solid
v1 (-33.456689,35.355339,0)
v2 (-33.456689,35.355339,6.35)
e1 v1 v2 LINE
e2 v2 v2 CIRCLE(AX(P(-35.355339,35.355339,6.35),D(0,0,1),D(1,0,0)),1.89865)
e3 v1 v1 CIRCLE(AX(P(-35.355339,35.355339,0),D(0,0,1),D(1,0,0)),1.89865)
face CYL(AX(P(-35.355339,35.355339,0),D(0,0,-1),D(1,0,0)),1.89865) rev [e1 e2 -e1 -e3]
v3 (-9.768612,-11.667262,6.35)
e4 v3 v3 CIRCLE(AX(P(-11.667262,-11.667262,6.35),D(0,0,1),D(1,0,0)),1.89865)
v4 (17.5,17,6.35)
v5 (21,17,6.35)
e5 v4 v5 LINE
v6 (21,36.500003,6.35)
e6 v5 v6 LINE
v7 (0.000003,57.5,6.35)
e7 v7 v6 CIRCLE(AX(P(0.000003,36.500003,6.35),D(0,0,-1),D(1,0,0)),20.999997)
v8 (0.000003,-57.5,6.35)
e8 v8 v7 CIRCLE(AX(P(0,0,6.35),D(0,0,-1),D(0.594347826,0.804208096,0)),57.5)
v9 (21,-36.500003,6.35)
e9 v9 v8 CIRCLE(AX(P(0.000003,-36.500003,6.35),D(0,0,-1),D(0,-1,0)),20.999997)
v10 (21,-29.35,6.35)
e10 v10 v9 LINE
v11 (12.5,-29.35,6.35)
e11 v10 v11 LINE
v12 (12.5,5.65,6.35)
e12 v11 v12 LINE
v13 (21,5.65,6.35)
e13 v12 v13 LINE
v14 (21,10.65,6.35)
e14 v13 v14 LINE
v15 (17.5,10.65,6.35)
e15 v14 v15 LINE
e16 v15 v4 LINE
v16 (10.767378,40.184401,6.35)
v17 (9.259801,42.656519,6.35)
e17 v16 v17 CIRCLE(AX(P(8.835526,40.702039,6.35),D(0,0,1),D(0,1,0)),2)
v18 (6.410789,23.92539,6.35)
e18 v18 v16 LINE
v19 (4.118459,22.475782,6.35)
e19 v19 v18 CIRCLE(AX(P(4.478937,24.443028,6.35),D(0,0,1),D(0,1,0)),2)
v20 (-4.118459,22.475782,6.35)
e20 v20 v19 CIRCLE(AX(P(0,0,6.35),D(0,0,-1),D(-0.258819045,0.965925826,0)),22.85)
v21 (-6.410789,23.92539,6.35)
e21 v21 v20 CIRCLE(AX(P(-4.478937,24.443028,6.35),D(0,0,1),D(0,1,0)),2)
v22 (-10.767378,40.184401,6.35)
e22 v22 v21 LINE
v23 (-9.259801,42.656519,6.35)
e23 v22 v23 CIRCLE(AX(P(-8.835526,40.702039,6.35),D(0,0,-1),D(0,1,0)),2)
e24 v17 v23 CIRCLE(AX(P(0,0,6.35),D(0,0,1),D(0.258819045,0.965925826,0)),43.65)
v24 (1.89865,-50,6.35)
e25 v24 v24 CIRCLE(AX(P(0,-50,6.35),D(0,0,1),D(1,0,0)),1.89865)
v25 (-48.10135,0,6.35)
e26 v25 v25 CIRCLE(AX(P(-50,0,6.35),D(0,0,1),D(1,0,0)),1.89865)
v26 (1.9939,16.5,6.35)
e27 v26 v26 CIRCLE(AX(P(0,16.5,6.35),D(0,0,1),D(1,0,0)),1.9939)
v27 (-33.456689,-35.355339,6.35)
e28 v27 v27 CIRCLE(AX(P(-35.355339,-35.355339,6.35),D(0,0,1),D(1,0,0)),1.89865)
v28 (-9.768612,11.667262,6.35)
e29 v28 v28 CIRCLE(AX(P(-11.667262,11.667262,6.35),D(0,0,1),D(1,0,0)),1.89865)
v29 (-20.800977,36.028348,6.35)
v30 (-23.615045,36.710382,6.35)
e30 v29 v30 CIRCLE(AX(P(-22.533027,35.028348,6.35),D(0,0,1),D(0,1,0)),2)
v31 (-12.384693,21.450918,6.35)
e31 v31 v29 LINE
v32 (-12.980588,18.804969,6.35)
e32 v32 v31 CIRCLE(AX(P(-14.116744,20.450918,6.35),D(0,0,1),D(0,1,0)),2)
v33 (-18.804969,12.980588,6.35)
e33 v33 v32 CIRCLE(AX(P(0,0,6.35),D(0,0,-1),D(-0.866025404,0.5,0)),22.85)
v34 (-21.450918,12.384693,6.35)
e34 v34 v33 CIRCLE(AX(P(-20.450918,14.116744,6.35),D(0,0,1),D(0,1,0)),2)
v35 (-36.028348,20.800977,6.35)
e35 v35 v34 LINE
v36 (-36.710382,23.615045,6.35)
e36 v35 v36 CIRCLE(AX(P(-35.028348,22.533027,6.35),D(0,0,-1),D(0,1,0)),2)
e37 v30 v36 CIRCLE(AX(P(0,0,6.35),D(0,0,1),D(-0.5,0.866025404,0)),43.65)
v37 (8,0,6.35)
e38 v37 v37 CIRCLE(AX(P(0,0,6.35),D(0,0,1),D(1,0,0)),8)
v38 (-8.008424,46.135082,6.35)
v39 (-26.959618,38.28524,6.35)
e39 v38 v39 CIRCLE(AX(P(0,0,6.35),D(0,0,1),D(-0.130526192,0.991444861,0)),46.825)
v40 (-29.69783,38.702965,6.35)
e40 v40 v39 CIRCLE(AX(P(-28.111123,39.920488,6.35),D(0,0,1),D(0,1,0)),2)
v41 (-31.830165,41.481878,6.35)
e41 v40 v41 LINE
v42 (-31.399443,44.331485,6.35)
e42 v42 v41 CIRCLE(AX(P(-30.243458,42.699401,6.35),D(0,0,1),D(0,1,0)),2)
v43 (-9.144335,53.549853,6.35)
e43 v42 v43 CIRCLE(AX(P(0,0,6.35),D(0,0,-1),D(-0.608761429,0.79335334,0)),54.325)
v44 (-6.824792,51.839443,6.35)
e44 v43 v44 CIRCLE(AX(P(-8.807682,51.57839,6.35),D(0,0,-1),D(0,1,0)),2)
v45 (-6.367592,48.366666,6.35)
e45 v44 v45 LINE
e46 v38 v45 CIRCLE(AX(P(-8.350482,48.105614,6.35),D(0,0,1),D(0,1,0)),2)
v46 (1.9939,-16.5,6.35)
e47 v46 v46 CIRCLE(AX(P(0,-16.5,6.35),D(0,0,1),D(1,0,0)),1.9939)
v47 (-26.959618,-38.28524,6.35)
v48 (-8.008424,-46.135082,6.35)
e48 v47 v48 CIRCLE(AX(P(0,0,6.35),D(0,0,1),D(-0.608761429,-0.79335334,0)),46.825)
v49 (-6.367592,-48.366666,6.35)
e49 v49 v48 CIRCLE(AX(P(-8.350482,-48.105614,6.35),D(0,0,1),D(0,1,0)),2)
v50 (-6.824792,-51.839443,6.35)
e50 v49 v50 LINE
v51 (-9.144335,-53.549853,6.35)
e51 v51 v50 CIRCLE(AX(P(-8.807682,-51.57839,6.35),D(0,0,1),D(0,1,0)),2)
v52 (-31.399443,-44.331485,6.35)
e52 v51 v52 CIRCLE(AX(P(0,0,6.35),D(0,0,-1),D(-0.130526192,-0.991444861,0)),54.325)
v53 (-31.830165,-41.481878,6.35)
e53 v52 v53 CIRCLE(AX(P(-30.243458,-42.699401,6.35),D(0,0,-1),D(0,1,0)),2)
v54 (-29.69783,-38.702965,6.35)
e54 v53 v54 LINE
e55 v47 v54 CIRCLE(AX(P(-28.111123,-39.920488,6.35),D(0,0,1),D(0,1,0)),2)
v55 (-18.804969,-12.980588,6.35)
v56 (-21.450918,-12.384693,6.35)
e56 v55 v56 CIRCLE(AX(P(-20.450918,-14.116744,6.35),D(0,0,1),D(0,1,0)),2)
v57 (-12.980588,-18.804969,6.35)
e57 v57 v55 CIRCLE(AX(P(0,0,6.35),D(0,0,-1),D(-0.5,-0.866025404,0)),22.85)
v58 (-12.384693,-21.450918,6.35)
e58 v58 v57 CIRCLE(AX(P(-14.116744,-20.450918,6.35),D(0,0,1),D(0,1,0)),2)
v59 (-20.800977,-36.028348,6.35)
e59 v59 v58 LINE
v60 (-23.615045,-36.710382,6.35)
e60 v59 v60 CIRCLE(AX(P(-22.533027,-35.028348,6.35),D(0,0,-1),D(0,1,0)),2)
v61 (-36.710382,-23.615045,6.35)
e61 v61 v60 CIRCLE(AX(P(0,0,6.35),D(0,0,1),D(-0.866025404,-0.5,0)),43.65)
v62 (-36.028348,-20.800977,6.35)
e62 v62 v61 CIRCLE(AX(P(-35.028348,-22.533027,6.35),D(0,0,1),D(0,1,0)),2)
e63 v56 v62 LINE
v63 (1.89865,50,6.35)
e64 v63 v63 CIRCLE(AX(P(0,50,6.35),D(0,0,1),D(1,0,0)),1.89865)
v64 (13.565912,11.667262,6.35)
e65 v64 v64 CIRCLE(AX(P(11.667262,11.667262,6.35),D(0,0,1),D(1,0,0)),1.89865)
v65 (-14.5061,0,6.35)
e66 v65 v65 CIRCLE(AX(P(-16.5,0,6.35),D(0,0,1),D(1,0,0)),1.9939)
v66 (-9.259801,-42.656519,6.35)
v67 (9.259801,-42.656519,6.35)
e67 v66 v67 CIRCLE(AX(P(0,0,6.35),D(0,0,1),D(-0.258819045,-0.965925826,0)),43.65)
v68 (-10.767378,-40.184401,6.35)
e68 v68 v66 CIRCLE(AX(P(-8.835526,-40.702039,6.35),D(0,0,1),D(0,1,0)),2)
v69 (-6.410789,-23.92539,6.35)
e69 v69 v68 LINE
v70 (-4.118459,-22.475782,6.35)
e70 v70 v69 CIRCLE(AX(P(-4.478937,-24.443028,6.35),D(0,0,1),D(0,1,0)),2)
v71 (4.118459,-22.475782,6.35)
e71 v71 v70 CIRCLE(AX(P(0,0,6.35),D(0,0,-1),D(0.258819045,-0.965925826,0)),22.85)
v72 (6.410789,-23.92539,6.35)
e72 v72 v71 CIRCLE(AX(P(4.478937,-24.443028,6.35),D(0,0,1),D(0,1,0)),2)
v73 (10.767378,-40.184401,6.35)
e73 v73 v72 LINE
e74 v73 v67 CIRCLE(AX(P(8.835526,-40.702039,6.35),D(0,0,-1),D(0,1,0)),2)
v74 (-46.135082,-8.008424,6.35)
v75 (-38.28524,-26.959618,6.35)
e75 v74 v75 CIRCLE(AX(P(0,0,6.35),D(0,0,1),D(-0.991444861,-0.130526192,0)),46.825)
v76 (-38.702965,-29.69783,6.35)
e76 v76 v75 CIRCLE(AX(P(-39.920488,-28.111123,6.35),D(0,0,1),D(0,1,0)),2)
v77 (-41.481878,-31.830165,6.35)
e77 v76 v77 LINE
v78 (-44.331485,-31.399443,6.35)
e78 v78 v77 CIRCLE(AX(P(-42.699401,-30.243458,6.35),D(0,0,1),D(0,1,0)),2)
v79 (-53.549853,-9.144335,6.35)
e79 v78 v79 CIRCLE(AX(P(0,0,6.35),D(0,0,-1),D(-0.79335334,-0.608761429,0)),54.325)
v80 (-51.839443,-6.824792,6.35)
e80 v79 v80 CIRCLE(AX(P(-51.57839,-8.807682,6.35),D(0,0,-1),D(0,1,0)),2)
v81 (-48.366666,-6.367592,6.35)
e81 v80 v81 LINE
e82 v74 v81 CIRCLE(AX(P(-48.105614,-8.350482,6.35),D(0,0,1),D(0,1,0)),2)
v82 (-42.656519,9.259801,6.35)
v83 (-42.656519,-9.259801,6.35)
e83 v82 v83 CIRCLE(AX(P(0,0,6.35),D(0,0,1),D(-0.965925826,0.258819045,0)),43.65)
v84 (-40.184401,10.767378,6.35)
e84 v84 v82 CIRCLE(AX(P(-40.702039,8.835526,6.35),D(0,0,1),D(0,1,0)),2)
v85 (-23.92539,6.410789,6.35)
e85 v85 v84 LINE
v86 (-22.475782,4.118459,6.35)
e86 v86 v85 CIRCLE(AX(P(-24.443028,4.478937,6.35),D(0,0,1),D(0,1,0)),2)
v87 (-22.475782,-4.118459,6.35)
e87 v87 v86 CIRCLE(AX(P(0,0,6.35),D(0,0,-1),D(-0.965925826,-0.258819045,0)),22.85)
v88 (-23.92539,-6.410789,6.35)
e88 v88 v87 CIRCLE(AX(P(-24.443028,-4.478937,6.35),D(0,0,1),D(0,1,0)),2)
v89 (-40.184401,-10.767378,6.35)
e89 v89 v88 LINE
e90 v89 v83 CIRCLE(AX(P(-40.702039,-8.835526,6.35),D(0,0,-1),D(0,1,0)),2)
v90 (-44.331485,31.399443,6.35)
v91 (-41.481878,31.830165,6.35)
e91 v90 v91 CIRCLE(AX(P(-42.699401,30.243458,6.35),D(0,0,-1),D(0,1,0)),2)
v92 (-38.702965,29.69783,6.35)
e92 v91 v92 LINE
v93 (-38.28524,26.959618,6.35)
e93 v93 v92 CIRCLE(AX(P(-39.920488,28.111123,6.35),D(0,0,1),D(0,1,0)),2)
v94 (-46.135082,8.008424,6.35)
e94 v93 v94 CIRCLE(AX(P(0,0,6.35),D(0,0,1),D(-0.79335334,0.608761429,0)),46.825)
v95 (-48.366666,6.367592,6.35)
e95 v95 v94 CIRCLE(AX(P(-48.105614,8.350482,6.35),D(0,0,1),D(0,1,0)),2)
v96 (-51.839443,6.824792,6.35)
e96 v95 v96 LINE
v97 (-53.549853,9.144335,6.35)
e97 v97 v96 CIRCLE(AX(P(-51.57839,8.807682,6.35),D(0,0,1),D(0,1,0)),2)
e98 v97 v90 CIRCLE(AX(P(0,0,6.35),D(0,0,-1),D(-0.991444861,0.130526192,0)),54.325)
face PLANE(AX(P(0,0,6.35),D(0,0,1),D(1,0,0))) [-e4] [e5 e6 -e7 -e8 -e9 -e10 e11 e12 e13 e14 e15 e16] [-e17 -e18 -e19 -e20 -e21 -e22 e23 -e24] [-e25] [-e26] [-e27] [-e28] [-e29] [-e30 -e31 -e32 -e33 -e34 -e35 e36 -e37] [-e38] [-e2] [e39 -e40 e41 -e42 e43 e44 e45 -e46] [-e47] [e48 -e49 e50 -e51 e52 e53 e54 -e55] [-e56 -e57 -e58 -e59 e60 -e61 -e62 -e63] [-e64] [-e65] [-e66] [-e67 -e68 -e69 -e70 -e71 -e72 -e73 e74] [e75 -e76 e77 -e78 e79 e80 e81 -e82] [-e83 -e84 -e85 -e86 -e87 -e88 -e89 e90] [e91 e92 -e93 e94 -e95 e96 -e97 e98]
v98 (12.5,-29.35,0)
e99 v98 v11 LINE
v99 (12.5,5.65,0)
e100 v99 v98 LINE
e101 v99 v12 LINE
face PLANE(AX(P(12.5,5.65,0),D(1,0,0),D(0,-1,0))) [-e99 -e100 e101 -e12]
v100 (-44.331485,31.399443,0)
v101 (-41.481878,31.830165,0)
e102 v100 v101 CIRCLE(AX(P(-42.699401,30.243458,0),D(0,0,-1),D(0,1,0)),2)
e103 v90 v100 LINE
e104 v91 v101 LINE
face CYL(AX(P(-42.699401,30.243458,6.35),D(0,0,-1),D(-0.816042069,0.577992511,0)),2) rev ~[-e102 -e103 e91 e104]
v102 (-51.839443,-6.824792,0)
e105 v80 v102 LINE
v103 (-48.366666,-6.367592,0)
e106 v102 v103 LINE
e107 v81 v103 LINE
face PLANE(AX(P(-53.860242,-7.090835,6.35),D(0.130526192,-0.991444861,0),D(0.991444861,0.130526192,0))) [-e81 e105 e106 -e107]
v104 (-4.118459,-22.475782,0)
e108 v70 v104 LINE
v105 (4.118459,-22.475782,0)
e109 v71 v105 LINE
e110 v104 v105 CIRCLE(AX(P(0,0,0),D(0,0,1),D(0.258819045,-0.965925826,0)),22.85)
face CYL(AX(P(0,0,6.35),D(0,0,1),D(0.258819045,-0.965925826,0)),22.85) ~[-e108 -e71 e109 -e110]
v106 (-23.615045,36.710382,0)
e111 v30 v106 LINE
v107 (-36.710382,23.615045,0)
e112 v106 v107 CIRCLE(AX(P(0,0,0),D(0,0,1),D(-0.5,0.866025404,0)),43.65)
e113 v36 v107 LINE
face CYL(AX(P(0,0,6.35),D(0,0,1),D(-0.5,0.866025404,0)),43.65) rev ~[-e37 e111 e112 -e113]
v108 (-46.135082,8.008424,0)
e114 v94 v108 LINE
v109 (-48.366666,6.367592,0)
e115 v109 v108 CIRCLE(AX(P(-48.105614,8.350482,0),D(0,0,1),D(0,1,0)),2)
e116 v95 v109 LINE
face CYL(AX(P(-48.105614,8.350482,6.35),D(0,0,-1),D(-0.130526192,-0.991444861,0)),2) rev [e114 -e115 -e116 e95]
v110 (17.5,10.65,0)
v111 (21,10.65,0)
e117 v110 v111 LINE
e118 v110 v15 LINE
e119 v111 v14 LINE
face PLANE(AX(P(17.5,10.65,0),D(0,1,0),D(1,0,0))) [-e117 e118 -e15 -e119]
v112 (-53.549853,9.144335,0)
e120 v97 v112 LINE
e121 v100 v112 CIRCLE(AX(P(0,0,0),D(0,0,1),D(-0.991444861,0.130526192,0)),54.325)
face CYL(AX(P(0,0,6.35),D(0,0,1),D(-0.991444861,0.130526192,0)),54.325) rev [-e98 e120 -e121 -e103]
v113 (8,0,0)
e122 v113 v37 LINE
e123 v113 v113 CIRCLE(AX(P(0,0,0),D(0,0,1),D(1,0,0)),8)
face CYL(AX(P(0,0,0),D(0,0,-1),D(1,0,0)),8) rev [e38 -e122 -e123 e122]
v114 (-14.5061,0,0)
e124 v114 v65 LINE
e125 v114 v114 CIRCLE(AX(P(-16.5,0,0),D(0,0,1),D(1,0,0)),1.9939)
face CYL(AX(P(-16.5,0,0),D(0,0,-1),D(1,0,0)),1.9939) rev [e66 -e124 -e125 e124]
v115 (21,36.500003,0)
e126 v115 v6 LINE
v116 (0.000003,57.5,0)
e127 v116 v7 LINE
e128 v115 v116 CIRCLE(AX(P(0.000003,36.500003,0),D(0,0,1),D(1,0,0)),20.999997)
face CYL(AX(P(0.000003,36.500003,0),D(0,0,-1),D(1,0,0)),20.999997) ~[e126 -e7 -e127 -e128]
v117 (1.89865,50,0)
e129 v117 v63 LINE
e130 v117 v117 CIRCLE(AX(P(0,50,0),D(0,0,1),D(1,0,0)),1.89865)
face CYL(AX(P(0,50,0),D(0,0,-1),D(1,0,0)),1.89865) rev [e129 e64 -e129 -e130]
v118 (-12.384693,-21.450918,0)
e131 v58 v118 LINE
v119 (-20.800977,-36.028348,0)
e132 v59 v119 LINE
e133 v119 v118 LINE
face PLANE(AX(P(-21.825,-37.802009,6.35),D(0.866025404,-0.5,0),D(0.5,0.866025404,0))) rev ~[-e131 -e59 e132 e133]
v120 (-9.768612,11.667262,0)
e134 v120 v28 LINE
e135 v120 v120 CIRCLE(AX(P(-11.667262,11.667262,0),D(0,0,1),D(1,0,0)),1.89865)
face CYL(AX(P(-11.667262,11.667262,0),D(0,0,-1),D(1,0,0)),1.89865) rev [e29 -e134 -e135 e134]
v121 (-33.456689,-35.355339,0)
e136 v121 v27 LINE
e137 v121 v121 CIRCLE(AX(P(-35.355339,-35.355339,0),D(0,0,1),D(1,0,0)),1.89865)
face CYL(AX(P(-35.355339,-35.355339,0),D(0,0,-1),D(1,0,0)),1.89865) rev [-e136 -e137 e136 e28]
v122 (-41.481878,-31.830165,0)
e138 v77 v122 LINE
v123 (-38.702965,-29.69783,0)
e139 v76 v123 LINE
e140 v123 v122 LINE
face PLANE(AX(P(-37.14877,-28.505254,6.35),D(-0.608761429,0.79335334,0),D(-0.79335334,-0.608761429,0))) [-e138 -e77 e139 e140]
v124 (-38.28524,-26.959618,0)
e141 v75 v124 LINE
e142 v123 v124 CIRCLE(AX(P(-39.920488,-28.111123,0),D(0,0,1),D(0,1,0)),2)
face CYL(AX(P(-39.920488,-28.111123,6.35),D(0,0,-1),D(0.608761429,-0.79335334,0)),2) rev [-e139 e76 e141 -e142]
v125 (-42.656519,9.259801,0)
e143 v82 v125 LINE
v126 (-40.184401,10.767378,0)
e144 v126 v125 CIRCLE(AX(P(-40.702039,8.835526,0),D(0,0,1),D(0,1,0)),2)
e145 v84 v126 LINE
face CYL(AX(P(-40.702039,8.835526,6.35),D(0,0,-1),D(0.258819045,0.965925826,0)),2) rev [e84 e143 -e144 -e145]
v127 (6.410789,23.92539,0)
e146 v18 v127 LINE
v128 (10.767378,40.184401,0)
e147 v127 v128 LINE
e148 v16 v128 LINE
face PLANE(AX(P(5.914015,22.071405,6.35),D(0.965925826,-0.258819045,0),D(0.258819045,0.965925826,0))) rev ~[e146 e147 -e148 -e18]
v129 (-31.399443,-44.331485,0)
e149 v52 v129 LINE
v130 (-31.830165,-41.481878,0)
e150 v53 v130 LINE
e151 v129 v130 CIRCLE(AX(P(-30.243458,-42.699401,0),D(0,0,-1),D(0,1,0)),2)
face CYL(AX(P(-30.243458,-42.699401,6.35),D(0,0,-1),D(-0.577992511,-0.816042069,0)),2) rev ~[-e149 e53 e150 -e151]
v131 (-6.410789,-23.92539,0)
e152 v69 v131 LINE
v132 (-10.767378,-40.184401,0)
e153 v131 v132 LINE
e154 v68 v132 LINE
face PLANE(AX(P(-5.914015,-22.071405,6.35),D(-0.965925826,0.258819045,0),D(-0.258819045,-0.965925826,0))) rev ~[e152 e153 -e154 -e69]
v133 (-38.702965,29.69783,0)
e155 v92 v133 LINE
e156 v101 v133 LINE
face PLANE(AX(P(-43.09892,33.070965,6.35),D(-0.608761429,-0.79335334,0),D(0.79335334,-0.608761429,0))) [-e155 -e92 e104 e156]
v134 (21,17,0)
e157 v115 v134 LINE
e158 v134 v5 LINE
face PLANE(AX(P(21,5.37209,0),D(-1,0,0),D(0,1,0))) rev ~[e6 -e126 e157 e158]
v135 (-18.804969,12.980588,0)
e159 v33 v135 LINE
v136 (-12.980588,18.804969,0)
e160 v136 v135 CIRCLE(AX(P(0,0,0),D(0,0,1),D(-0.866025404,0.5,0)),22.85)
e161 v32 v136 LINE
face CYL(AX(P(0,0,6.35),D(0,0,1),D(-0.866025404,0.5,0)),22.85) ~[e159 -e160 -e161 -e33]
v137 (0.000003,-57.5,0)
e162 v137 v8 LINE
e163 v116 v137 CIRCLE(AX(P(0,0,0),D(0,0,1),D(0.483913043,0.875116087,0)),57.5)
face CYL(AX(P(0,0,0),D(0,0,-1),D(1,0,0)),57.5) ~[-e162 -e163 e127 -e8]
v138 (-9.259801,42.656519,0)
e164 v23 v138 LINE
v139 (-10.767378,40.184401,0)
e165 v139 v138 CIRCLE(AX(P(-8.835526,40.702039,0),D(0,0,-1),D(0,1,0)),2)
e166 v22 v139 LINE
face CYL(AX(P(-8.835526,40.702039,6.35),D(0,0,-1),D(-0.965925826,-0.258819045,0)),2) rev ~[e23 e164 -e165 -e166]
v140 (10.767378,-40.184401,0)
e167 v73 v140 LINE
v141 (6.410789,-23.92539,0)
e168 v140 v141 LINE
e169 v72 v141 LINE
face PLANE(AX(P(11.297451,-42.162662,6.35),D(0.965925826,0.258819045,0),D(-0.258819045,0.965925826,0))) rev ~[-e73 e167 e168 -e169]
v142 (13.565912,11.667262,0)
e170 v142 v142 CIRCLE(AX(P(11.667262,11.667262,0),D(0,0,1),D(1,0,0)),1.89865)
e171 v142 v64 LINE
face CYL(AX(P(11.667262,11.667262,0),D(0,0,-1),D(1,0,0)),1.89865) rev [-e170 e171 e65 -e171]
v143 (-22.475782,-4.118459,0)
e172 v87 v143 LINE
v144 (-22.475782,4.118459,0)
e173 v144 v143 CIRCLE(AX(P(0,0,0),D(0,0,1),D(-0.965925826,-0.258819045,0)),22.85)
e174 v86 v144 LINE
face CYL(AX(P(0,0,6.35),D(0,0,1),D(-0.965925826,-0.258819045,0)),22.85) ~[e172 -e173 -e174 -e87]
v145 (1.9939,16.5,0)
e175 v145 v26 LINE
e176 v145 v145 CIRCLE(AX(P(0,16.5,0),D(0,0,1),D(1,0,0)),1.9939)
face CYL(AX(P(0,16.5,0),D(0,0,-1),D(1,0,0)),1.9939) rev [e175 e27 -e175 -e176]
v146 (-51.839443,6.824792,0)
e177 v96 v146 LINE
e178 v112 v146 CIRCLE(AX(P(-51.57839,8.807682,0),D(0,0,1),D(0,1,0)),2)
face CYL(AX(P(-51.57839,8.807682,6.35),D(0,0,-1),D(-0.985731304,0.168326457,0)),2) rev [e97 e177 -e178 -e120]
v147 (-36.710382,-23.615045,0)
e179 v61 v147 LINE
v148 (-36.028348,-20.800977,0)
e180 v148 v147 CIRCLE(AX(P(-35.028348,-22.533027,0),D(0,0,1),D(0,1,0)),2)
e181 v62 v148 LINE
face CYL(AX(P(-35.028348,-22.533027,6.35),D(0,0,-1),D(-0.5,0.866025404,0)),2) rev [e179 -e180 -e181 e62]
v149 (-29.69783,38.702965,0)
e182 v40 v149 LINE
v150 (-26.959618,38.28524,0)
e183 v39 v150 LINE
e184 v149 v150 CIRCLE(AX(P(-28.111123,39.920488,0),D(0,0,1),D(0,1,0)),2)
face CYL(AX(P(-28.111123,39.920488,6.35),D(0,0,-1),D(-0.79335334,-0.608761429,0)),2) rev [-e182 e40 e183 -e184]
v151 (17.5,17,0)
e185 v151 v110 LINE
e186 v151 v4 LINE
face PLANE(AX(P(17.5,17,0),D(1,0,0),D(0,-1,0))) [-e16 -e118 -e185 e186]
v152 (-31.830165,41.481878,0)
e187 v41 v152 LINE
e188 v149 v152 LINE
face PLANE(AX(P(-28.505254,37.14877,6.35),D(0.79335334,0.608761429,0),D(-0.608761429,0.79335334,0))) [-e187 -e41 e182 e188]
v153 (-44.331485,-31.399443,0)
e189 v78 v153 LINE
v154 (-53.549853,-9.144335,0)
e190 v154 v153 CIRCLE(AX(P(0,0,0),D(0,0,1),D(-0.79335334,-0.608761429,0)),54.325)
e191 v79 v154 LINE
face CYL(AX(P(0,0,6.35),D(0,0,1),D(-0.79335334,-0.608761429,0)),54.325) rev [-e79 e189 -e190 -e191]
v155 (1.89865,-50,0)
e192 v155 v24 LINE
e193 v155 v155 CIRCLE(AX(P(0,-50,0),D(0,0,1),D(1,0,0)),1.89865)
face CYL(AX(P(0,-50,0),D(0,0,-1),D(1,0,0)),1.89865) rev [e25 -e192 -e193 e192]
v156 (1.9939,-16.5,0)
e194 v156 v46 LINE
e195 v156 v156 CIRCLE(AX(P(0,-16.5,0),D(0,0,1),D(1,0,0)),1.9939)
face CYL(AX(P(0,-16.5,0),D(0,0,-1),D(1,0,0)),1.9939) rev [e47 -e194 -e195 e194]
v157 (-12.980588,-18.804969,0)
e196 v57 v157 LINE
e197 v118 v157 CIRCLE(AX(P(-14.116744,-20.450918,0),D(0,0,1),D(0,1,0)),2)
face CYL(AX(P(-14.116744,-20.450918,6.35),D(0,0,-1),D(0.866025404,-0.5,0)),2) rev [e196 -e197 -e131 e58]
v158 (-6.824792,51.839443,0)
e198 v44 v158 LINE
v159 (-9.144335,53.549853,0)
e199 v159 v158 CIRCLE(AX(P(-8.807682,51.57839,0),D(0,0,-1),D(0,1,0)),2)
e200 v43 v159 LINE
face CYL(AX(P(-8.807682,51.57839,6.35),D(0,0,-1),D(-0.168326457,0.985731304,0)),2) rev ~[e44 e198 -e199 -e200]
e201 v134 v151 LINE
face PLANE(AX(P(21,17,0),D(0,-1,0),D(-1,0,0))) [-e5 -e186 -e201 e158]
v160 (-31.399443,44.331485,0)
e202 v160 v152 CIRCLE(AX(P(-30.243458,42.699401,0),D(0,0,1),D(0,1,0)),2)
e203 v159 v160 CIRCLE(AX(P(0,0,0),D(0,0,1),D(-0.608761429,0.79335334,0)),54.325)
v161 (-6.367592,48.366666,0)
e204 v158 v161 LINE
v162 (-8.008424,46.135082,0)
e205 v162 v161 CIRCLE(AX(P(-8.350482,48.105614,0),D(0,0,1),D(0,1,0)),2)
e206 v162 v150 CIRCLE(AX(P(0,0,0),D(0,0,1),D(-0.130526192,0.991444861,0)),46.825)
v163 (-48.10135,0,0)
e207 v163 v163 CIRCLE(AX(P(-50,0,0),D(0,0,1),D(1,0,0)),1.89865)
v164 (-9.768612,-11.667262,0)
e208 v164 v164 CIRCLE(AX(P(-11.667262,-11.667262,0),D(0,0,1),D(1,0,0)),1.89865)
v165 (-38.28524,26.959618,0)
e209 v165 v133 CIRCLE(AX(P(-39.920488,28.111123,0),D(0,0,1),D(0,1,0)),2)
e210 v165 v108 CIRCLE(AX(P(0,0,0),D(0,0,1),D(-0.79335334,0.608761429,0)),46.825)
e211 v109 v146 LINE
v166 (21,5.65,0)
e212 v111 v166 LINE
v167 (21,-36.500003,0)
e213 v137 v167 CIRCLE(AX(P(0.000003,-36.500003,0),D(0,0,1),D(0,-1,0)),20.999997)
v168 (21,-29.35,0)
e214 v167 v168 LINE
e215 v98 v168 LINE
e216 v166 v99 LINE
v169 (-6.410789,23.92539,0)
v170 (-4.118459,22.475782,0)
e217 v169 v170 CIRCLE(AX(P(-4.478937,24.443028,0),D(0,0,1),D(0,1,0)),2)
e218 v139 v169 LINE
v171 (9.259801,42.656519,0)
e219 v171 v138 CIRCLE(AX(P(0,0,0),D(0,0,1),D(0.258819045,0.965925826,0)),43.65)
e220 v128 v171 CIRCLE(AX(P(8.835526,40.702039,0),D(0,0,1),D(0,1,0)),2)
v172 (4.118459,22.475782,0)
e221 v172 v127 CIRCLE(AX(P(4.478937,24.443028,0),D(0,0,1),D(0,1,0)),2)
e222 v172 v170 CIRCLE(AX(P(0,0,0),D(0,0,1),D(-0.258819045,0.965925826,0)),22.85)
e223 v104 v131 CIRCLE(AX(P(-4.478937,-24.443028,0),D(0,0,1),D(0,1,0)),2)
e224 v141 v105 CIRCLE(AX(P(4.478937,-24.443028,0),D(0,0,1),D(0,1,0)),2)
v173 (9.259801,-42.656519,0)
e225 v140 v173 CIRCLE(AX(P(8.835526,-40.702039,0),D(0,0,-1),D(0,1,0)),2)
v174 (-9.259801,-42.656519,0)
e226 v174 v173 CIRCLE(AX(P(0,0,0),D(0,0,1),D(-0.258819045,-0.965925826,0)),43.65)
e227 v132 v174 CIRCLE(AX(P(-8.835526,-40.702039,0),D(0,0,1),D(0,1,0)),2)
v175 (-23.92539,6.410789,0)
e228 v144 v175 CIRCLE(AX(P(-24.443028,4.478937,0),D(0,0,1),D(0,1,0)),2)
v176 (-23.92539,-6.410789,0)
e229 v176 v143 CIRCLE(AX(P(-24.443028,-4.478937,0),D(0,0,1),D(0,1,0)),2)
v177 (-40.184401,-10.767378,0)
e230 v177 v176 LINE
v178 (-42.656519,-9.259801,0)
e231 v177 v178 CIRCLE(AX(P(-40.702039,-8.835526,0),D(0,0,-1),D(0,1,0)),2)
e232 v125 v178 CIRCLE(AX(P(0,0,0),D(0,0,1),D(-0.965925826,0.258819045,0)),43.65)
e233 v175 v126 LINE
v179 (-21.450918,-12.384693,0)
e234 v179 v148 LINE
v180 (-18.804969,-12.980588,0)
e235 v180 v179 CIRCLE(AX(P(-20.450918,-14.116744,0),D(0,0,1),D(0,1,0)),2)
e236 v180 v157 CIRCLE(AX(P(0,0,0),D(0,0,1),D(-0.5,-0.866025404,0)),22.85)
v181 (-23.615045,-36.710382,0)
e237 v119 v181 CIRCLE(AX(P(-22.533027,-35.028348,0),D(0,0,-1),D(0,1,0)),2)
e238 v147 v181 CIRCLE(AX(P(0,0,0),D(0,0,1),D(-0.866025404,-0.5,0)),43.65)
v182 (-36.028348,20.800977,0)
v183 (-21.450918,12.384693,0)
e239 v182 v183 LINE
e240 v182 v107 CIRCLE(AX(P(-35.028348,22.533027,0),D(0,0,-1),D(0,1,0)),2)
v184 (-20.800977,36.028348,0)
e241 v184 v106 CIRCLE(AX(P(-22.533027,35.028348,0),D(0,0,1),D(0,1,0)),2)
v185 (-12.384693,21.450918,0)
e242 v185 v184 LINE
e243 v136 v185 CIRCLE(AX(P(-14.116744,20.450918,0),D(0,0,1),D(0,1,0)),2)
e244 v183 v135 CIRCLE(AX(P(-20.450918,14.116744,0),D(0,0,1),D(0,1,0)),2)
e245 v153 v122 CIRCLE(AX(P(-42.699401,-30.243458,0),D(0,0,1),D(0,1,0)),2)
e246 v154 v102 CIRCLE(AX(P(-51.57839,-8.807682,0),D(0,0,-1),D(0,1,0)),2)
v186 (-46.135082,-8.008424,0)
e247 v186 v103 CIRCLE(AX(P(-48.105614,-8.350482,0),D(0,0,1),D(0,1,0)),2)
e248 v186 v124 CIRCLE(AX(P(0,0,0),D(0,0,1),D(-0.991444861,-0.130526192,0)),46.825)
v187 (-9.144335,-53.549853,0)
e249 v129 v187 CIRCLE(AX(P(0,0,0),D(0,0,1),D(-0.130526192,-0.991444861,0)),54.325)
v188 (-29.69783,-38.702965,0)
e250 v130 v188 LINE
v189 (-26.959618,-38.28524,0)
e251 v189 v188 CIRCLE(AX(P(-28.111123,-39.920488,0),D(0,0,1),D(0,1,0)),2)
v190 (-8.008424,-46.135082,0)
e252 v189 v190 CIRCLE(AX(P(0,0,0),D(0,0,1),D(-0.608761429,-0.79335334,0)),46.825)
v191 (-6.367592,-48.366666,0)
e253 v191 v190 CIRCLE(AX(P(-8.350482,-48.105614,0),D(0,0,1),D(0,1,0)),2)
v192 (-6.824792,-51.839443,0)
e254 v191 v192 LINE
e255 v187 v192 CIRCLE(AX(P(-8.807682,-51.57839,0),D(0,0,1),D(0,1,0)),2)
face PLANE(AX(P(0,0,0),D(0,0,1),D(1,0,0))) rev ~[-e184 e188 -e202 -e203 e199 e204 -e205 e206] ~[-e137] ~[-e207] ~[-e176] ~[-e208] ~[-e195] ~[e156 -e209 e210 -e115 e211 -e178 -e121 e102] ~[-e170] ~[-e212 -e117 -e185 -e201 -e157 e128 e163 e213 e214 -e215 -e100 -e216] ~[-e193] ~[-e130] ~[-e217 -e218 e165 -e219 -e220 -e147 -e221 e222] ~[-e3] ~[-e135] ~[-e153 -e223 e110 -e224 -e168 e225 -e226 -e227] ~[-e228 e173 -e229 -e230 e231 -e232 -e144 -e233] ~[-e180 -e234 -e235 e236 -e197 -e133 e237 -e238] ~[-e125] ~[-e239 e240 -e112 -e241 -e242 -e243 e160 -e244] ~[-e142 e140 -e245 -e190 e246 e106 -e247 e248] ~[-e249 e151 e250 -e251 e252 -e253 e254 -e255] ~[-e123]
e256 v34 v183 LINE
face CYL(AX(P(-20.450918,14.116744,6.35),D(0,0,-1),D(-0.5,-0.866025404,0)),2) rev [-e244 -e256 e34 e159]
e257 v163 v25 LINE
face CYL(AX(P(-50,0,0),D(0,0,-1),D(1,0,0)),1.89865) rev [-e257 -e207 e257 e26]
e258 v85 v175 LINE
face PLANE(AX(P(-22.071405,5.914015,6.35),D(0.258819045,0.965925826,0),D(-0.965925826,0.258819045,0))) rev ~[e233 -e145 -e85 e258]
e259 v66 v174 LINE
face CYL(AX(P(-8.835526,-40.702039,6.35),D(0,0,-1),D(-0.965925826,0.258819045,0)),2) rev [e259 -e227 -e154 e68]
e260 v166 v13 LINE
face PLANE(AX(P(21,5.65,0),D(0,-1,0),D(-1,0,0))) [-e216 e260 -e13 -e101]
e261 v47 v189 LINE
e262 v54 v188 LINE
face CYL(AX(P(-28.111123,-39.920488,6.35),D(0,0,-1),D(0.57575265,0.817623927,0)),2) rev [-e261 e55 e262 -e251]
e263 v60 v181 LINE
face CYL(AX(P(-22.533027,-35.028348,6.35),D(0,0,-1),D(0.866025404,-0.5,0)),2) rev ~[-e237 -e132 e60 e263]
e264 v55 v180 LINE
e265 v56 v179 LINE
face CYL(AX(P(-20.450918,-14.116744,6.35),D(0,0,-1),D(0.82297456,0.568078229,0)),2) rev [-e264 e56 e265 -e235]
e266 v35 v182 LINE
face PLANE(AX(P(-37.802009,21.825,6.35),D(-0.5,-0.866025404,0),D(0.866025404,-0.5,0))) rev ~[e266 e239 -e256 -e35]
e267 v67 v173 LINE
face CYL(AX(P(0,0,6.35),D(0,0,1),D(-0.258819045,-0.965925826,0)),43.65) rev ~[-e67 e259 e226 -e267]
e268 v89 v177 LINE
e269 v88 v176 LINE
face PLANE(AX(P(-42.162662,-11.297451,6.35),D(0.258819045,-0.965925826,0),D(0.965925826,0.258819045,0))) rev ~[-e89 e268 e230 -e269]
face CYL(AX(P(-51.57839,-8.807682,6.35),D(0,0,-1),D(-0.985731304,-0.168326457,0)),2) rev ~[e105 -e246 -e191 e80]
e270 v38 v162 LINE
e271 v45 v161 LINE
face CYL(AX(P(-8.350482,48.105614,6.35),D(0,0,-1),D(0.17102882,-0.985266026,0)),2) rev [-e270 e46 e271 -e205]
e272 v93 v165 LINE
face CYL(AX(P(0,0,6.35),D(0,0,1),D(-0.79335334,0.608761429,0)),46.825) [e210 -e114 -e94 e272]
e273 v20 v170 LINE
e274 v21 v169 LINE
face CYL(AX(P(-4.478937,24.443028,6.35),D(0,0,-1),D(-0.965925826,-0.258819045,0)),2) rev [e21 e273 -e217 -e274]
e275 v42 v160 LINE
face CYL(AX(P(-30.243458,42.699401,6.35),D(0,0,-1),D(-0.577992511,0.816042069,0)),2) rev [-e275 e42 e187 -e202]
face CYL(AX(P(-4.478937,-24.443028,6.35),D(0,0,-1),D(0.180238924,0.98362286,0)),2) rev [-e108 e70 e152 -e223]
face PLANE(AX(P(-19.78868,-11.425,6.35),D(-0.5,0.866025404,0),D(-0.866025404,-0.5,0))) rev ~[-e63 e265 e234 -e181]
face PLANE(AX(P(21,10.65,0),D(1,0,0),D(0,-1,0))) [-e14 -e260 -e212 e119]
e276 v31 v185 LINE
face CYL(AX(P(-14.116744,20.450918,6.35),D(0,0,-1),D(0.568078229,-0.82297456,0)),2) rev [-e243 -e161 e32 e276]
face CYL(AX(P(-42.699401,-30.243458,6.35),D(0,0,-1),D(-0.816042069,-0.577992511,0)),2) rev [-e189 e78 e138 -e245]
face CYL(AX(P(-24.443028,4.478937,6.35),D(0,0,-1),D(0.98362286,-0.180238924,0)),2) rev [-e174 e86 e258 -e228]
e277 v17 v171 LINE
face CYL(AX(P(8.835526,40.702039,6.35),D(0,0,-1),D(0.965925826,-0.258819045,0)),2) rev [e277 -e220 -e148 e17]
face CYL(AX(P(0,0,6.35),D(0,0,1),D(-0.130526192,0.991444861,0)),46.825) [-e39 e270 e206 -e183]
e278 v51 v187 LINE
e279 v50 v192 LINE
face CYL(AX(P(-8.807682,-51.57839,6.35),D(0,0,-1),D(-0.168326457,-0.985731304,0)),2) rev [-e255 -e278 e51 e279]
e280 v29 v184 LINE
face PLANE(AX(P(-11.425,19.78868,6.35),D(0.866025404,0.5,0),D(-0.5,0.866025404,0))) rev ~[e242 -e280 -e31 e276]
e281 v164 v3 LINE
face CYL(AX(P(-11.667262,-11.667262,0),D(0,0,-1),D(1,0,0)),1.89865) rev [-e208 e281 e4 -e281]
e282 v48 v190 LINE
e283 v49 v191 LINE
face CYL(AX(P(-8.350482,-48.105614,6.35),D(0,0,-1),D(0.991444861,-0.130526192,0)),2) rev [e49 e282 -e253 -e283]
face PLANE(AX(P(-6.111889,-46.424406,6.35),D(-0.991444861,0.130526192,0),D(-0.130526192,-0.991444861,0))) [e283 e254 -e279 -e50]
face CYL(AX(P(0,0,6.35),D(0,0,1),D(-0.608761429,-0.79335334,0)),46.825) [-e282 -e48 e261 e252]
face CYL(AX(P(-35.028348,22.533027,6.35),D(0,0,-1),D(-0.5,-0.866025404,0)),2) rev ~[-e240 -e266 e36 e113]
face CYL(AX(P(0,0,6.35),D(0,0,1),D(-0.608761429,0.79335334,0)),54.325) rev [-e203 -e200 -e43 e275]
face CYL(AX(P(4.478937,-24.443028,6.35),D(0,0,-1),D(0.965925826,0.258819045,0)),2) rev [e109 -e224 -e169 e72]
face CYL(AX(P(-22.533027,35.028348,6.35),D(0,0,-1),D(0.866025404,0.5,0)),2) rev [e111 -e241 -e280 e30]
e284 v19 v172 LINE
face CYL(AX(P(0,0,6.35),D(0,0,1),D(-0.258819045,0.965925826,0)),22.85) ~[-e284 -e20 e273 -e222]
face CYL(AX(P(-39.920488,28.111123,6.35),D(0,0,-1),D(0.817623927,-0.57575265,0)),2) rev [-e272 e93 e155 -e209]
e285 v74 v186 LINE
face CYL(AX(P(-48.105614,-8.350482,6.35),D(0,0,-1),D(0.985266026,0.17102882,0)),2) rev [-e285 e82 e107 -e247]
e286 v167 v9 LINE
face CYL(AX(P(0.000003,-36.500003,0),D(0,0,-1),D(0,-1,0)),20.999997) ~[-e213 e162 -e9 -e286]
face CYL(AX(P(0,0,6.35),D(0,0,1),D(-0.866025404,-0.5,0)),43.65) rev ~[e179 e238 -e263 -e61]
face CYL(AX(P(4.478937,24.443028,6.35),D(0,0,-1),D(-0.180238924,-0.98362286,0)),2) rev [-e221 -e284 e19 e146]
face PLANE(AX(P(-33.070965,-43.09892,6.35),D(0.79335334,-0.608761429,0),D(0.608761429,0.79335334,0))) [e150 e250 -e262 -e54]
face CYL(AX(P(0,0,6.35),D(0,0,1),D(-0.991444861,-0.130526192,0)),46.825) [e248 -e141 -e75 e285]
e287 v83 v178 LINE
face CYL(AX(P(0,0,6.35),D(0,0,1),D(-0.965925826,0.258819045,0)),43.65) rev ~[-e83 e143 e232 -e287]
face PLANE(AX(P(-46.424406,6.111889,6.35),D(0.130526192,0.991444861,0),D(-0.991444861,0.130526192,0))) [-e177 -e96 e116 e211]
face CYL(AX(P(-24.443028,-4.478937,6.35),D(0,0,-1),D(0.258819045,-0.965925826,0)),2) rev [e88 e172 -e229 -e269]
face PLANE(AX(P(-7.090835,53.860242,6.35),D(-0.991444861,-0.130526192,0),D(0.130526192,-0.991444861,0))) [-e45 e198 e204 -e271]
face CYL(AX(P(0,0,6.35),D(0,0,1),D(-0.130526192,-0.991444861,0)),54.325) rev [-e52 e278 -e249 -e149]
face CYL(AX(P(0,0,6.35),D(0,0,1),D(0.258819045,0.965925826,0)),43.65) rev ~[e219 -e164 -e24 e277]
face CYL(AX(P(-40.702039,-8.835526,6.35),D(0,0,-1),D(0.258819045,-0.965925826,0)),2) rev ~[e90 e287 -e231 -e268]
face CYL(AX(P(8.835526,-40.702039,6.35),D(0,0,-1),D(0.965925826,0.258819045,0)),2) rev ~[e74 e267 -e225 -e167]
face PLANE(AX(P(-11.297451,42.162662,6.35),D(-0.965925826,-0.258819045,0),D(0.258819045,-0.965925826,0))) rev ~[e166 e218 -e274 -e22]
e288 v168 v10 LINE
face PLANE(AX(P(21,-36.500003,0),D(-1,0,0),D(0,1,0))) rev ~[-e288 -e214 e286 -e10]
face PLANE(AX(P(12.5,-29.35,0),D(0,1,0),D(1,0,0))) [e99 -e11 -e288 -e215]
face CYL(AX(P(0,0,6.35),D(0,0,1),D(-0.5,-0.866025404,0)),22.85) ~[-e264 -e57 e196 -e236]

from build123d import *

# Parameters (mm, degrees)
SKETCH1_R                = 57.5
SKETCH1_R_2              = 1.89865
SKETCH1_R_3              = 1.9939
SKETCH1_R_4              = 8
BOSS_EXTRUDE1_DEPTH      = 6.35
CUT_EXTRUDE1_DEPTH       = 82.564836173
SKETCH3_W                = 6.35
SKETCH3_H                = 80
CUT_EXTRUDE3_DEPTH       = 82.564836173
CUT_EXTRUDE5_DEPTH       = 82.564836173
CUT_EXTRUDE7_DEPTH       = 82.564836173
FILLET1_R                = 2
CIRPATTERN1_COUNT        = 8
FILLET1_OF_CIRPATTERN1_R = 2
CUT_EXTRUDE8_DEPTH       = 82.564836173
FILLET2_R                = 2
CIRPATTERN2_COUNT        = 8
FILLET2_OF_CIRPATTERN2_R = 2


with BuildPart() as part:
    # Sketch1 → Boss-Extrude1 (new body)
    with BuildSketch(Plane.XY):
        Circle(SKETCH1_R)
        with Locations((45.315389352, 21.130913087)):
            Circle(SKETCH1_R_2, mode=Mode.SUBTRACT)
        with Locations((49.978847504, 1.454235937)):
            Circle(SKETCH1_R_3, mode=Mode.SUBTRACT)
        Circle(SKETCH1_R_4, mode=Mode.SUBTRACT)
        with Locations((46.467376211, -18.460307366)):
            Circle(SKETCH1_R_3, mode=Mode.SUBTRACT)
        with Locations((0, -16.5)):
            Circle(SKETCH1_R_3, mode=Mode.SUBTRACT)
        with Locations((0, -50)):
            Circle(SKETCH1_R_2, mode=Mode.SUBTRACT)
        with Locations((-16.5, 0)):
            Circle(SKETCH1_R_3, mode=Mode.SUBTRACT)
        with Locations((-11.66726189, -11.66726189)):
            Circle(SKETCH1_R_2, mode=Mode.SUBTRACT)
        with Locations((0, 16.5)):
            Circle(SKETCH1_R_3, mode=Mode.SUBTRACT)
        with Locations((-11.66726189, 11.66726189)):
            Circle(SKETCH1_R_2, mode=Mode.SUBTRACT)
        with Locations((11.66726189, 11.66726189)):
            Circle(SKETCH1_R_2, mode=Mode.SUBTRACT)
        with Locations((-35.355339059, -35.355339059)):
            Circle(SKETCH1_R_2, mode=Mode.SUBTRACT)
        with Locations((-50, 0)):
            Circle(SKETCH1_R_2, mode=Mode.SUBTRACT)
        with Locations((-35.355339059, 35.355339059)):
            Circle(SKETCH1_R_2, mode=Mode.SUBTRACT)
        with Locations((0, 50)):
            Circle(SKETCH1_R_2, mode=Mode.SUBTRACT)
        with Locations((35.355339059, -35.355339059)):
            Circle(SKETCH1_R_2, mode=Mode.SUBTRACT)
    extrude(amount=BOSS_EXTRUDE1_DEPTH)

    # Sketch2 → Cut-Extrude1 (cut, through all)
    with BuildSketch(Plane.XY):
        Polygon((12.5, -29.35), (41, -29.35), (41, 10.65), (44.5, 10.65), (44.5, 17), (41, 17), (41, 32), (21, 32), (21, 17), (17.5, 17), (17.5, 10.65), (21, 10.65), (21, 5.65), (12.5, 5.65), align=None)
    extrude(amount=CUT_EXTRUDE1_DEPTH, mode=Mode.SUBTRACT)

    # Sketch3 → Cut-Extrude3 (cut, through all)
    with BuildSketch(Plane(origin=(0, 0, 0), x_dir=(-1, 0, 0), z_dir=(0, 0, -1))):
        with Locations((-31, 32)):
            Rectangle(SKETCH3_W, SKETCH3_H)
    extrude(amount=-CUT_EXTRUDE3_DEPTH, mode=Mode.SUBTRACT)

    # Sketch4 → Cut-Extrude5 (cut, through all)
    with BuildSketch(Plane.XY):
        with BuildLine():
            Line((21, -36.500002949), (21, -5.372089924))
            Line((21, -5.372089924), (24.175, -5.411516926))
            Line((24.175, -5.411516926), (24.175, -57.5))
            Line((24.175, -57.5), (2.949e-06, -57.5))
            ThreePointArc((2.949e-06, -57.5), (14.849243269, -51.349243269), (21, -36.500002949))
        make_face()
        with BuildLine():
            Line((2.949e-06, 57.5), (24.175, 57.5))
            Line((24.175, 57.5), (24.175, 5.411516926))
            Line((24.175, 5.411516926), (21, 5.372089924))
            Line((21, 5.372089924), (21, 36.500002949))
            ThreePointArc((21, 36.500002949), (14.849243269, 51.349243269), (2.949e-06, 57.5))
        make_face()
    extrude(amount=CUT_EXTRUDE5_DEPTH, mode=Mode.SUBTRACT)


with BuildPart() as cut_extrude5_kept_piece:
    # of the separate pieces the step leaves, the one the design keeps (cut_extrude5_pieces_kept)
    add(part.part.solids().sort_by_distance((2.949e-06, 57.5, 0))[0])

    # Sketch6 → Cut-Extrude7 (cut, through all)
    with BuildSketch(Plane.XY.offset(6.35)):
        with BuildLine():
            Line((-42.162662318, -11.297451319), (-22.071405131, -5.914015181))
            ThreePointArc((-22.071405131, -5.914015181), (-22.85, 0), (-22.071405131, 5.914015181))
            Line((-22.071405131, 5.914015181), (-42.162662318, 11.297451319))
            ThreePointArc((-42.162662318, 11.297451319), (-43.65, 0), (-42.162662318, -11.297451319))
        make_face()
    cut_extrude7 = extrude(amount=-CUT_EXTRUDE7_DEPTH, mode=Mode.SUBTRACT)

    # Fillet1
    fillet1_edges = [cut_extrude5_kept_piece.edges().sort_by_distance(p)[0] for p in [
        (-22.071405131, 5.914015181, 3.175),
        (-22.071405131, -5.914015181, 3.175),
        (-42.162662318, -11.297451319, 3.175),
        (-42.162662318, 11.297451319, 3.175),
    ]]
    fillet(fillet1_edges, radius=FILLET1_R)

    # CirPattern1: Cut-Extrude7 ×8 about axis, 3 skipped
    cirpattern1_axis = Axis((0, 0, 0), (0, 0, -1))
    add([cut_extrude7.rotate(cirpattern1_axis, i * 360 / CIRPATTERN1_COUNT) for i in range(1, CIRPATTERN1_COUNT) if i not in (3, 4, 5)], mode=Mode.SUBTRACT)

    # Fillet1 of CirPattern1
    fillet1_of_cirpattern1_edges = [cut_extrude5_kept_piece.edges().sort_by_distance(p)[0] for p in [
        (-11.425, 19.788680476, 3.175),
        (-19.788680476, 11.425, 3.175),
        (-37.802008875, 21.825, 3.175),
        (-21.825, 37.802008875, 3.175),
        (5.914015181, 22.071405131, 3.175),
        (-5.914015181, 22.071405131, 3.175),
        (-11.297451319, 42.162662318, 3.175),
        (11.297451319, 42.162662318, 3.175),
        (-5.914015181, -22.071405131, 3.175),
        (5.914015181, -22.071405131, 3.175),
        (11.297451319, -42.162662318, 3.175),
        (-11.297451319, -42.162662318, 3.175),
        (-19.788680476, -11.425, 3.175),
        (-11.425, -19.788680476, 3.175),
        (-21.825, -37.802008875, 3.175),
        (-37.802008875, -21.825, 3.175),
    ]]
    fillet(fillet1_of_cirpattern1_edges, radius=FILLET1_OF_CIRPATTERN1_R)

    # Sketch7 → Cut-Extrude8 (cut, through all)
    with BuildSketch(Plane.XY.offset(6.35)):
        with BuildLine():
            Line((-43.098920211, 33.070964631), (-37.148770159, 28.505253913))
            ThreePointArc((-37.148770159, 28.505253913), (-43.26065911, 17.91915172), (-46.424405634, 6.111888951))
            Line((-46.424405634, 6.111888951), (-53.860242094, 7.090835392))
            ThreePointArc((-53.860242094, 7.090835392), (-50.189755604, 20.789277463), (-43.098920211, 33.070964631))
        make_face()
    cut_extrude8 = extrude(amount=-CUT_EXTRUDE8_DEPTH, mode=Mode.SUBTRACT)

    # Fillet2
    fillet2_edges = [cut_extrude5_kept_piece.edges().sort_by_distance(p)[0] for p in [
        (-53.860242094, 7.090835392, 3.175),
        (-43.098920211, 33.070964631, 3.175),
        (-37.148770159, 28.505253913, 3.175),
        (-46.424405634, 6.111888951, 3.175),
    ]]
    fillet(fillet2_edges, radius=FILLET2_R)

    # CirPattern2: Cut-Extrude8 ×8 about axis, 4 skipped
    cirpattern2_axis = Axis((0, 0, 0), (0, 0, -1))
    add([cut_extrude8.rotate(cirpattern2_axis, i * 360 / CIRPATTERN2_COUNT) for i in range(1, CIRPATTERN2_COUNT) if i not in (2, 3, 4, 5)], mode=Mode.SUBTRACT)

    # Fillet2 of CirPattern2
    fillet2_of_cirpattern2_edges = [cut_extrude5_kept_piece.edges().sort_by_distance(p)[0] for p in [
        (-33.070964631, 43.098920211, 3.175),
        (-7.090835392, 53.860242094, 3.175),
        (-6.111888951, 46.424405634, 3.175),
        (-28.505253913, 37.148770159, 3.175),
        (-7.090835392, -53.860242094, 3.175),
        (-33.070964631, -43.098920211, 3.175),
        (-28.505253913, -37.148770159, 3.175),
        (-6.111888951, -46.424405634, 3.175),
        (-43.098920211, -33.070964631, 3.175),
        (-53.860242094, -7.090835392, 3.175),
        (-46.424405634, -6.111888951, 3.175),
        (-37.148770159, -28.505253913, 3.175),
    ]]
    fillet(fillet2_of_cirpattern2_edges, radius=FILLET2_OF_CIRPATTERN2_R)


solid = cut_extrude5_kept_piece.part
